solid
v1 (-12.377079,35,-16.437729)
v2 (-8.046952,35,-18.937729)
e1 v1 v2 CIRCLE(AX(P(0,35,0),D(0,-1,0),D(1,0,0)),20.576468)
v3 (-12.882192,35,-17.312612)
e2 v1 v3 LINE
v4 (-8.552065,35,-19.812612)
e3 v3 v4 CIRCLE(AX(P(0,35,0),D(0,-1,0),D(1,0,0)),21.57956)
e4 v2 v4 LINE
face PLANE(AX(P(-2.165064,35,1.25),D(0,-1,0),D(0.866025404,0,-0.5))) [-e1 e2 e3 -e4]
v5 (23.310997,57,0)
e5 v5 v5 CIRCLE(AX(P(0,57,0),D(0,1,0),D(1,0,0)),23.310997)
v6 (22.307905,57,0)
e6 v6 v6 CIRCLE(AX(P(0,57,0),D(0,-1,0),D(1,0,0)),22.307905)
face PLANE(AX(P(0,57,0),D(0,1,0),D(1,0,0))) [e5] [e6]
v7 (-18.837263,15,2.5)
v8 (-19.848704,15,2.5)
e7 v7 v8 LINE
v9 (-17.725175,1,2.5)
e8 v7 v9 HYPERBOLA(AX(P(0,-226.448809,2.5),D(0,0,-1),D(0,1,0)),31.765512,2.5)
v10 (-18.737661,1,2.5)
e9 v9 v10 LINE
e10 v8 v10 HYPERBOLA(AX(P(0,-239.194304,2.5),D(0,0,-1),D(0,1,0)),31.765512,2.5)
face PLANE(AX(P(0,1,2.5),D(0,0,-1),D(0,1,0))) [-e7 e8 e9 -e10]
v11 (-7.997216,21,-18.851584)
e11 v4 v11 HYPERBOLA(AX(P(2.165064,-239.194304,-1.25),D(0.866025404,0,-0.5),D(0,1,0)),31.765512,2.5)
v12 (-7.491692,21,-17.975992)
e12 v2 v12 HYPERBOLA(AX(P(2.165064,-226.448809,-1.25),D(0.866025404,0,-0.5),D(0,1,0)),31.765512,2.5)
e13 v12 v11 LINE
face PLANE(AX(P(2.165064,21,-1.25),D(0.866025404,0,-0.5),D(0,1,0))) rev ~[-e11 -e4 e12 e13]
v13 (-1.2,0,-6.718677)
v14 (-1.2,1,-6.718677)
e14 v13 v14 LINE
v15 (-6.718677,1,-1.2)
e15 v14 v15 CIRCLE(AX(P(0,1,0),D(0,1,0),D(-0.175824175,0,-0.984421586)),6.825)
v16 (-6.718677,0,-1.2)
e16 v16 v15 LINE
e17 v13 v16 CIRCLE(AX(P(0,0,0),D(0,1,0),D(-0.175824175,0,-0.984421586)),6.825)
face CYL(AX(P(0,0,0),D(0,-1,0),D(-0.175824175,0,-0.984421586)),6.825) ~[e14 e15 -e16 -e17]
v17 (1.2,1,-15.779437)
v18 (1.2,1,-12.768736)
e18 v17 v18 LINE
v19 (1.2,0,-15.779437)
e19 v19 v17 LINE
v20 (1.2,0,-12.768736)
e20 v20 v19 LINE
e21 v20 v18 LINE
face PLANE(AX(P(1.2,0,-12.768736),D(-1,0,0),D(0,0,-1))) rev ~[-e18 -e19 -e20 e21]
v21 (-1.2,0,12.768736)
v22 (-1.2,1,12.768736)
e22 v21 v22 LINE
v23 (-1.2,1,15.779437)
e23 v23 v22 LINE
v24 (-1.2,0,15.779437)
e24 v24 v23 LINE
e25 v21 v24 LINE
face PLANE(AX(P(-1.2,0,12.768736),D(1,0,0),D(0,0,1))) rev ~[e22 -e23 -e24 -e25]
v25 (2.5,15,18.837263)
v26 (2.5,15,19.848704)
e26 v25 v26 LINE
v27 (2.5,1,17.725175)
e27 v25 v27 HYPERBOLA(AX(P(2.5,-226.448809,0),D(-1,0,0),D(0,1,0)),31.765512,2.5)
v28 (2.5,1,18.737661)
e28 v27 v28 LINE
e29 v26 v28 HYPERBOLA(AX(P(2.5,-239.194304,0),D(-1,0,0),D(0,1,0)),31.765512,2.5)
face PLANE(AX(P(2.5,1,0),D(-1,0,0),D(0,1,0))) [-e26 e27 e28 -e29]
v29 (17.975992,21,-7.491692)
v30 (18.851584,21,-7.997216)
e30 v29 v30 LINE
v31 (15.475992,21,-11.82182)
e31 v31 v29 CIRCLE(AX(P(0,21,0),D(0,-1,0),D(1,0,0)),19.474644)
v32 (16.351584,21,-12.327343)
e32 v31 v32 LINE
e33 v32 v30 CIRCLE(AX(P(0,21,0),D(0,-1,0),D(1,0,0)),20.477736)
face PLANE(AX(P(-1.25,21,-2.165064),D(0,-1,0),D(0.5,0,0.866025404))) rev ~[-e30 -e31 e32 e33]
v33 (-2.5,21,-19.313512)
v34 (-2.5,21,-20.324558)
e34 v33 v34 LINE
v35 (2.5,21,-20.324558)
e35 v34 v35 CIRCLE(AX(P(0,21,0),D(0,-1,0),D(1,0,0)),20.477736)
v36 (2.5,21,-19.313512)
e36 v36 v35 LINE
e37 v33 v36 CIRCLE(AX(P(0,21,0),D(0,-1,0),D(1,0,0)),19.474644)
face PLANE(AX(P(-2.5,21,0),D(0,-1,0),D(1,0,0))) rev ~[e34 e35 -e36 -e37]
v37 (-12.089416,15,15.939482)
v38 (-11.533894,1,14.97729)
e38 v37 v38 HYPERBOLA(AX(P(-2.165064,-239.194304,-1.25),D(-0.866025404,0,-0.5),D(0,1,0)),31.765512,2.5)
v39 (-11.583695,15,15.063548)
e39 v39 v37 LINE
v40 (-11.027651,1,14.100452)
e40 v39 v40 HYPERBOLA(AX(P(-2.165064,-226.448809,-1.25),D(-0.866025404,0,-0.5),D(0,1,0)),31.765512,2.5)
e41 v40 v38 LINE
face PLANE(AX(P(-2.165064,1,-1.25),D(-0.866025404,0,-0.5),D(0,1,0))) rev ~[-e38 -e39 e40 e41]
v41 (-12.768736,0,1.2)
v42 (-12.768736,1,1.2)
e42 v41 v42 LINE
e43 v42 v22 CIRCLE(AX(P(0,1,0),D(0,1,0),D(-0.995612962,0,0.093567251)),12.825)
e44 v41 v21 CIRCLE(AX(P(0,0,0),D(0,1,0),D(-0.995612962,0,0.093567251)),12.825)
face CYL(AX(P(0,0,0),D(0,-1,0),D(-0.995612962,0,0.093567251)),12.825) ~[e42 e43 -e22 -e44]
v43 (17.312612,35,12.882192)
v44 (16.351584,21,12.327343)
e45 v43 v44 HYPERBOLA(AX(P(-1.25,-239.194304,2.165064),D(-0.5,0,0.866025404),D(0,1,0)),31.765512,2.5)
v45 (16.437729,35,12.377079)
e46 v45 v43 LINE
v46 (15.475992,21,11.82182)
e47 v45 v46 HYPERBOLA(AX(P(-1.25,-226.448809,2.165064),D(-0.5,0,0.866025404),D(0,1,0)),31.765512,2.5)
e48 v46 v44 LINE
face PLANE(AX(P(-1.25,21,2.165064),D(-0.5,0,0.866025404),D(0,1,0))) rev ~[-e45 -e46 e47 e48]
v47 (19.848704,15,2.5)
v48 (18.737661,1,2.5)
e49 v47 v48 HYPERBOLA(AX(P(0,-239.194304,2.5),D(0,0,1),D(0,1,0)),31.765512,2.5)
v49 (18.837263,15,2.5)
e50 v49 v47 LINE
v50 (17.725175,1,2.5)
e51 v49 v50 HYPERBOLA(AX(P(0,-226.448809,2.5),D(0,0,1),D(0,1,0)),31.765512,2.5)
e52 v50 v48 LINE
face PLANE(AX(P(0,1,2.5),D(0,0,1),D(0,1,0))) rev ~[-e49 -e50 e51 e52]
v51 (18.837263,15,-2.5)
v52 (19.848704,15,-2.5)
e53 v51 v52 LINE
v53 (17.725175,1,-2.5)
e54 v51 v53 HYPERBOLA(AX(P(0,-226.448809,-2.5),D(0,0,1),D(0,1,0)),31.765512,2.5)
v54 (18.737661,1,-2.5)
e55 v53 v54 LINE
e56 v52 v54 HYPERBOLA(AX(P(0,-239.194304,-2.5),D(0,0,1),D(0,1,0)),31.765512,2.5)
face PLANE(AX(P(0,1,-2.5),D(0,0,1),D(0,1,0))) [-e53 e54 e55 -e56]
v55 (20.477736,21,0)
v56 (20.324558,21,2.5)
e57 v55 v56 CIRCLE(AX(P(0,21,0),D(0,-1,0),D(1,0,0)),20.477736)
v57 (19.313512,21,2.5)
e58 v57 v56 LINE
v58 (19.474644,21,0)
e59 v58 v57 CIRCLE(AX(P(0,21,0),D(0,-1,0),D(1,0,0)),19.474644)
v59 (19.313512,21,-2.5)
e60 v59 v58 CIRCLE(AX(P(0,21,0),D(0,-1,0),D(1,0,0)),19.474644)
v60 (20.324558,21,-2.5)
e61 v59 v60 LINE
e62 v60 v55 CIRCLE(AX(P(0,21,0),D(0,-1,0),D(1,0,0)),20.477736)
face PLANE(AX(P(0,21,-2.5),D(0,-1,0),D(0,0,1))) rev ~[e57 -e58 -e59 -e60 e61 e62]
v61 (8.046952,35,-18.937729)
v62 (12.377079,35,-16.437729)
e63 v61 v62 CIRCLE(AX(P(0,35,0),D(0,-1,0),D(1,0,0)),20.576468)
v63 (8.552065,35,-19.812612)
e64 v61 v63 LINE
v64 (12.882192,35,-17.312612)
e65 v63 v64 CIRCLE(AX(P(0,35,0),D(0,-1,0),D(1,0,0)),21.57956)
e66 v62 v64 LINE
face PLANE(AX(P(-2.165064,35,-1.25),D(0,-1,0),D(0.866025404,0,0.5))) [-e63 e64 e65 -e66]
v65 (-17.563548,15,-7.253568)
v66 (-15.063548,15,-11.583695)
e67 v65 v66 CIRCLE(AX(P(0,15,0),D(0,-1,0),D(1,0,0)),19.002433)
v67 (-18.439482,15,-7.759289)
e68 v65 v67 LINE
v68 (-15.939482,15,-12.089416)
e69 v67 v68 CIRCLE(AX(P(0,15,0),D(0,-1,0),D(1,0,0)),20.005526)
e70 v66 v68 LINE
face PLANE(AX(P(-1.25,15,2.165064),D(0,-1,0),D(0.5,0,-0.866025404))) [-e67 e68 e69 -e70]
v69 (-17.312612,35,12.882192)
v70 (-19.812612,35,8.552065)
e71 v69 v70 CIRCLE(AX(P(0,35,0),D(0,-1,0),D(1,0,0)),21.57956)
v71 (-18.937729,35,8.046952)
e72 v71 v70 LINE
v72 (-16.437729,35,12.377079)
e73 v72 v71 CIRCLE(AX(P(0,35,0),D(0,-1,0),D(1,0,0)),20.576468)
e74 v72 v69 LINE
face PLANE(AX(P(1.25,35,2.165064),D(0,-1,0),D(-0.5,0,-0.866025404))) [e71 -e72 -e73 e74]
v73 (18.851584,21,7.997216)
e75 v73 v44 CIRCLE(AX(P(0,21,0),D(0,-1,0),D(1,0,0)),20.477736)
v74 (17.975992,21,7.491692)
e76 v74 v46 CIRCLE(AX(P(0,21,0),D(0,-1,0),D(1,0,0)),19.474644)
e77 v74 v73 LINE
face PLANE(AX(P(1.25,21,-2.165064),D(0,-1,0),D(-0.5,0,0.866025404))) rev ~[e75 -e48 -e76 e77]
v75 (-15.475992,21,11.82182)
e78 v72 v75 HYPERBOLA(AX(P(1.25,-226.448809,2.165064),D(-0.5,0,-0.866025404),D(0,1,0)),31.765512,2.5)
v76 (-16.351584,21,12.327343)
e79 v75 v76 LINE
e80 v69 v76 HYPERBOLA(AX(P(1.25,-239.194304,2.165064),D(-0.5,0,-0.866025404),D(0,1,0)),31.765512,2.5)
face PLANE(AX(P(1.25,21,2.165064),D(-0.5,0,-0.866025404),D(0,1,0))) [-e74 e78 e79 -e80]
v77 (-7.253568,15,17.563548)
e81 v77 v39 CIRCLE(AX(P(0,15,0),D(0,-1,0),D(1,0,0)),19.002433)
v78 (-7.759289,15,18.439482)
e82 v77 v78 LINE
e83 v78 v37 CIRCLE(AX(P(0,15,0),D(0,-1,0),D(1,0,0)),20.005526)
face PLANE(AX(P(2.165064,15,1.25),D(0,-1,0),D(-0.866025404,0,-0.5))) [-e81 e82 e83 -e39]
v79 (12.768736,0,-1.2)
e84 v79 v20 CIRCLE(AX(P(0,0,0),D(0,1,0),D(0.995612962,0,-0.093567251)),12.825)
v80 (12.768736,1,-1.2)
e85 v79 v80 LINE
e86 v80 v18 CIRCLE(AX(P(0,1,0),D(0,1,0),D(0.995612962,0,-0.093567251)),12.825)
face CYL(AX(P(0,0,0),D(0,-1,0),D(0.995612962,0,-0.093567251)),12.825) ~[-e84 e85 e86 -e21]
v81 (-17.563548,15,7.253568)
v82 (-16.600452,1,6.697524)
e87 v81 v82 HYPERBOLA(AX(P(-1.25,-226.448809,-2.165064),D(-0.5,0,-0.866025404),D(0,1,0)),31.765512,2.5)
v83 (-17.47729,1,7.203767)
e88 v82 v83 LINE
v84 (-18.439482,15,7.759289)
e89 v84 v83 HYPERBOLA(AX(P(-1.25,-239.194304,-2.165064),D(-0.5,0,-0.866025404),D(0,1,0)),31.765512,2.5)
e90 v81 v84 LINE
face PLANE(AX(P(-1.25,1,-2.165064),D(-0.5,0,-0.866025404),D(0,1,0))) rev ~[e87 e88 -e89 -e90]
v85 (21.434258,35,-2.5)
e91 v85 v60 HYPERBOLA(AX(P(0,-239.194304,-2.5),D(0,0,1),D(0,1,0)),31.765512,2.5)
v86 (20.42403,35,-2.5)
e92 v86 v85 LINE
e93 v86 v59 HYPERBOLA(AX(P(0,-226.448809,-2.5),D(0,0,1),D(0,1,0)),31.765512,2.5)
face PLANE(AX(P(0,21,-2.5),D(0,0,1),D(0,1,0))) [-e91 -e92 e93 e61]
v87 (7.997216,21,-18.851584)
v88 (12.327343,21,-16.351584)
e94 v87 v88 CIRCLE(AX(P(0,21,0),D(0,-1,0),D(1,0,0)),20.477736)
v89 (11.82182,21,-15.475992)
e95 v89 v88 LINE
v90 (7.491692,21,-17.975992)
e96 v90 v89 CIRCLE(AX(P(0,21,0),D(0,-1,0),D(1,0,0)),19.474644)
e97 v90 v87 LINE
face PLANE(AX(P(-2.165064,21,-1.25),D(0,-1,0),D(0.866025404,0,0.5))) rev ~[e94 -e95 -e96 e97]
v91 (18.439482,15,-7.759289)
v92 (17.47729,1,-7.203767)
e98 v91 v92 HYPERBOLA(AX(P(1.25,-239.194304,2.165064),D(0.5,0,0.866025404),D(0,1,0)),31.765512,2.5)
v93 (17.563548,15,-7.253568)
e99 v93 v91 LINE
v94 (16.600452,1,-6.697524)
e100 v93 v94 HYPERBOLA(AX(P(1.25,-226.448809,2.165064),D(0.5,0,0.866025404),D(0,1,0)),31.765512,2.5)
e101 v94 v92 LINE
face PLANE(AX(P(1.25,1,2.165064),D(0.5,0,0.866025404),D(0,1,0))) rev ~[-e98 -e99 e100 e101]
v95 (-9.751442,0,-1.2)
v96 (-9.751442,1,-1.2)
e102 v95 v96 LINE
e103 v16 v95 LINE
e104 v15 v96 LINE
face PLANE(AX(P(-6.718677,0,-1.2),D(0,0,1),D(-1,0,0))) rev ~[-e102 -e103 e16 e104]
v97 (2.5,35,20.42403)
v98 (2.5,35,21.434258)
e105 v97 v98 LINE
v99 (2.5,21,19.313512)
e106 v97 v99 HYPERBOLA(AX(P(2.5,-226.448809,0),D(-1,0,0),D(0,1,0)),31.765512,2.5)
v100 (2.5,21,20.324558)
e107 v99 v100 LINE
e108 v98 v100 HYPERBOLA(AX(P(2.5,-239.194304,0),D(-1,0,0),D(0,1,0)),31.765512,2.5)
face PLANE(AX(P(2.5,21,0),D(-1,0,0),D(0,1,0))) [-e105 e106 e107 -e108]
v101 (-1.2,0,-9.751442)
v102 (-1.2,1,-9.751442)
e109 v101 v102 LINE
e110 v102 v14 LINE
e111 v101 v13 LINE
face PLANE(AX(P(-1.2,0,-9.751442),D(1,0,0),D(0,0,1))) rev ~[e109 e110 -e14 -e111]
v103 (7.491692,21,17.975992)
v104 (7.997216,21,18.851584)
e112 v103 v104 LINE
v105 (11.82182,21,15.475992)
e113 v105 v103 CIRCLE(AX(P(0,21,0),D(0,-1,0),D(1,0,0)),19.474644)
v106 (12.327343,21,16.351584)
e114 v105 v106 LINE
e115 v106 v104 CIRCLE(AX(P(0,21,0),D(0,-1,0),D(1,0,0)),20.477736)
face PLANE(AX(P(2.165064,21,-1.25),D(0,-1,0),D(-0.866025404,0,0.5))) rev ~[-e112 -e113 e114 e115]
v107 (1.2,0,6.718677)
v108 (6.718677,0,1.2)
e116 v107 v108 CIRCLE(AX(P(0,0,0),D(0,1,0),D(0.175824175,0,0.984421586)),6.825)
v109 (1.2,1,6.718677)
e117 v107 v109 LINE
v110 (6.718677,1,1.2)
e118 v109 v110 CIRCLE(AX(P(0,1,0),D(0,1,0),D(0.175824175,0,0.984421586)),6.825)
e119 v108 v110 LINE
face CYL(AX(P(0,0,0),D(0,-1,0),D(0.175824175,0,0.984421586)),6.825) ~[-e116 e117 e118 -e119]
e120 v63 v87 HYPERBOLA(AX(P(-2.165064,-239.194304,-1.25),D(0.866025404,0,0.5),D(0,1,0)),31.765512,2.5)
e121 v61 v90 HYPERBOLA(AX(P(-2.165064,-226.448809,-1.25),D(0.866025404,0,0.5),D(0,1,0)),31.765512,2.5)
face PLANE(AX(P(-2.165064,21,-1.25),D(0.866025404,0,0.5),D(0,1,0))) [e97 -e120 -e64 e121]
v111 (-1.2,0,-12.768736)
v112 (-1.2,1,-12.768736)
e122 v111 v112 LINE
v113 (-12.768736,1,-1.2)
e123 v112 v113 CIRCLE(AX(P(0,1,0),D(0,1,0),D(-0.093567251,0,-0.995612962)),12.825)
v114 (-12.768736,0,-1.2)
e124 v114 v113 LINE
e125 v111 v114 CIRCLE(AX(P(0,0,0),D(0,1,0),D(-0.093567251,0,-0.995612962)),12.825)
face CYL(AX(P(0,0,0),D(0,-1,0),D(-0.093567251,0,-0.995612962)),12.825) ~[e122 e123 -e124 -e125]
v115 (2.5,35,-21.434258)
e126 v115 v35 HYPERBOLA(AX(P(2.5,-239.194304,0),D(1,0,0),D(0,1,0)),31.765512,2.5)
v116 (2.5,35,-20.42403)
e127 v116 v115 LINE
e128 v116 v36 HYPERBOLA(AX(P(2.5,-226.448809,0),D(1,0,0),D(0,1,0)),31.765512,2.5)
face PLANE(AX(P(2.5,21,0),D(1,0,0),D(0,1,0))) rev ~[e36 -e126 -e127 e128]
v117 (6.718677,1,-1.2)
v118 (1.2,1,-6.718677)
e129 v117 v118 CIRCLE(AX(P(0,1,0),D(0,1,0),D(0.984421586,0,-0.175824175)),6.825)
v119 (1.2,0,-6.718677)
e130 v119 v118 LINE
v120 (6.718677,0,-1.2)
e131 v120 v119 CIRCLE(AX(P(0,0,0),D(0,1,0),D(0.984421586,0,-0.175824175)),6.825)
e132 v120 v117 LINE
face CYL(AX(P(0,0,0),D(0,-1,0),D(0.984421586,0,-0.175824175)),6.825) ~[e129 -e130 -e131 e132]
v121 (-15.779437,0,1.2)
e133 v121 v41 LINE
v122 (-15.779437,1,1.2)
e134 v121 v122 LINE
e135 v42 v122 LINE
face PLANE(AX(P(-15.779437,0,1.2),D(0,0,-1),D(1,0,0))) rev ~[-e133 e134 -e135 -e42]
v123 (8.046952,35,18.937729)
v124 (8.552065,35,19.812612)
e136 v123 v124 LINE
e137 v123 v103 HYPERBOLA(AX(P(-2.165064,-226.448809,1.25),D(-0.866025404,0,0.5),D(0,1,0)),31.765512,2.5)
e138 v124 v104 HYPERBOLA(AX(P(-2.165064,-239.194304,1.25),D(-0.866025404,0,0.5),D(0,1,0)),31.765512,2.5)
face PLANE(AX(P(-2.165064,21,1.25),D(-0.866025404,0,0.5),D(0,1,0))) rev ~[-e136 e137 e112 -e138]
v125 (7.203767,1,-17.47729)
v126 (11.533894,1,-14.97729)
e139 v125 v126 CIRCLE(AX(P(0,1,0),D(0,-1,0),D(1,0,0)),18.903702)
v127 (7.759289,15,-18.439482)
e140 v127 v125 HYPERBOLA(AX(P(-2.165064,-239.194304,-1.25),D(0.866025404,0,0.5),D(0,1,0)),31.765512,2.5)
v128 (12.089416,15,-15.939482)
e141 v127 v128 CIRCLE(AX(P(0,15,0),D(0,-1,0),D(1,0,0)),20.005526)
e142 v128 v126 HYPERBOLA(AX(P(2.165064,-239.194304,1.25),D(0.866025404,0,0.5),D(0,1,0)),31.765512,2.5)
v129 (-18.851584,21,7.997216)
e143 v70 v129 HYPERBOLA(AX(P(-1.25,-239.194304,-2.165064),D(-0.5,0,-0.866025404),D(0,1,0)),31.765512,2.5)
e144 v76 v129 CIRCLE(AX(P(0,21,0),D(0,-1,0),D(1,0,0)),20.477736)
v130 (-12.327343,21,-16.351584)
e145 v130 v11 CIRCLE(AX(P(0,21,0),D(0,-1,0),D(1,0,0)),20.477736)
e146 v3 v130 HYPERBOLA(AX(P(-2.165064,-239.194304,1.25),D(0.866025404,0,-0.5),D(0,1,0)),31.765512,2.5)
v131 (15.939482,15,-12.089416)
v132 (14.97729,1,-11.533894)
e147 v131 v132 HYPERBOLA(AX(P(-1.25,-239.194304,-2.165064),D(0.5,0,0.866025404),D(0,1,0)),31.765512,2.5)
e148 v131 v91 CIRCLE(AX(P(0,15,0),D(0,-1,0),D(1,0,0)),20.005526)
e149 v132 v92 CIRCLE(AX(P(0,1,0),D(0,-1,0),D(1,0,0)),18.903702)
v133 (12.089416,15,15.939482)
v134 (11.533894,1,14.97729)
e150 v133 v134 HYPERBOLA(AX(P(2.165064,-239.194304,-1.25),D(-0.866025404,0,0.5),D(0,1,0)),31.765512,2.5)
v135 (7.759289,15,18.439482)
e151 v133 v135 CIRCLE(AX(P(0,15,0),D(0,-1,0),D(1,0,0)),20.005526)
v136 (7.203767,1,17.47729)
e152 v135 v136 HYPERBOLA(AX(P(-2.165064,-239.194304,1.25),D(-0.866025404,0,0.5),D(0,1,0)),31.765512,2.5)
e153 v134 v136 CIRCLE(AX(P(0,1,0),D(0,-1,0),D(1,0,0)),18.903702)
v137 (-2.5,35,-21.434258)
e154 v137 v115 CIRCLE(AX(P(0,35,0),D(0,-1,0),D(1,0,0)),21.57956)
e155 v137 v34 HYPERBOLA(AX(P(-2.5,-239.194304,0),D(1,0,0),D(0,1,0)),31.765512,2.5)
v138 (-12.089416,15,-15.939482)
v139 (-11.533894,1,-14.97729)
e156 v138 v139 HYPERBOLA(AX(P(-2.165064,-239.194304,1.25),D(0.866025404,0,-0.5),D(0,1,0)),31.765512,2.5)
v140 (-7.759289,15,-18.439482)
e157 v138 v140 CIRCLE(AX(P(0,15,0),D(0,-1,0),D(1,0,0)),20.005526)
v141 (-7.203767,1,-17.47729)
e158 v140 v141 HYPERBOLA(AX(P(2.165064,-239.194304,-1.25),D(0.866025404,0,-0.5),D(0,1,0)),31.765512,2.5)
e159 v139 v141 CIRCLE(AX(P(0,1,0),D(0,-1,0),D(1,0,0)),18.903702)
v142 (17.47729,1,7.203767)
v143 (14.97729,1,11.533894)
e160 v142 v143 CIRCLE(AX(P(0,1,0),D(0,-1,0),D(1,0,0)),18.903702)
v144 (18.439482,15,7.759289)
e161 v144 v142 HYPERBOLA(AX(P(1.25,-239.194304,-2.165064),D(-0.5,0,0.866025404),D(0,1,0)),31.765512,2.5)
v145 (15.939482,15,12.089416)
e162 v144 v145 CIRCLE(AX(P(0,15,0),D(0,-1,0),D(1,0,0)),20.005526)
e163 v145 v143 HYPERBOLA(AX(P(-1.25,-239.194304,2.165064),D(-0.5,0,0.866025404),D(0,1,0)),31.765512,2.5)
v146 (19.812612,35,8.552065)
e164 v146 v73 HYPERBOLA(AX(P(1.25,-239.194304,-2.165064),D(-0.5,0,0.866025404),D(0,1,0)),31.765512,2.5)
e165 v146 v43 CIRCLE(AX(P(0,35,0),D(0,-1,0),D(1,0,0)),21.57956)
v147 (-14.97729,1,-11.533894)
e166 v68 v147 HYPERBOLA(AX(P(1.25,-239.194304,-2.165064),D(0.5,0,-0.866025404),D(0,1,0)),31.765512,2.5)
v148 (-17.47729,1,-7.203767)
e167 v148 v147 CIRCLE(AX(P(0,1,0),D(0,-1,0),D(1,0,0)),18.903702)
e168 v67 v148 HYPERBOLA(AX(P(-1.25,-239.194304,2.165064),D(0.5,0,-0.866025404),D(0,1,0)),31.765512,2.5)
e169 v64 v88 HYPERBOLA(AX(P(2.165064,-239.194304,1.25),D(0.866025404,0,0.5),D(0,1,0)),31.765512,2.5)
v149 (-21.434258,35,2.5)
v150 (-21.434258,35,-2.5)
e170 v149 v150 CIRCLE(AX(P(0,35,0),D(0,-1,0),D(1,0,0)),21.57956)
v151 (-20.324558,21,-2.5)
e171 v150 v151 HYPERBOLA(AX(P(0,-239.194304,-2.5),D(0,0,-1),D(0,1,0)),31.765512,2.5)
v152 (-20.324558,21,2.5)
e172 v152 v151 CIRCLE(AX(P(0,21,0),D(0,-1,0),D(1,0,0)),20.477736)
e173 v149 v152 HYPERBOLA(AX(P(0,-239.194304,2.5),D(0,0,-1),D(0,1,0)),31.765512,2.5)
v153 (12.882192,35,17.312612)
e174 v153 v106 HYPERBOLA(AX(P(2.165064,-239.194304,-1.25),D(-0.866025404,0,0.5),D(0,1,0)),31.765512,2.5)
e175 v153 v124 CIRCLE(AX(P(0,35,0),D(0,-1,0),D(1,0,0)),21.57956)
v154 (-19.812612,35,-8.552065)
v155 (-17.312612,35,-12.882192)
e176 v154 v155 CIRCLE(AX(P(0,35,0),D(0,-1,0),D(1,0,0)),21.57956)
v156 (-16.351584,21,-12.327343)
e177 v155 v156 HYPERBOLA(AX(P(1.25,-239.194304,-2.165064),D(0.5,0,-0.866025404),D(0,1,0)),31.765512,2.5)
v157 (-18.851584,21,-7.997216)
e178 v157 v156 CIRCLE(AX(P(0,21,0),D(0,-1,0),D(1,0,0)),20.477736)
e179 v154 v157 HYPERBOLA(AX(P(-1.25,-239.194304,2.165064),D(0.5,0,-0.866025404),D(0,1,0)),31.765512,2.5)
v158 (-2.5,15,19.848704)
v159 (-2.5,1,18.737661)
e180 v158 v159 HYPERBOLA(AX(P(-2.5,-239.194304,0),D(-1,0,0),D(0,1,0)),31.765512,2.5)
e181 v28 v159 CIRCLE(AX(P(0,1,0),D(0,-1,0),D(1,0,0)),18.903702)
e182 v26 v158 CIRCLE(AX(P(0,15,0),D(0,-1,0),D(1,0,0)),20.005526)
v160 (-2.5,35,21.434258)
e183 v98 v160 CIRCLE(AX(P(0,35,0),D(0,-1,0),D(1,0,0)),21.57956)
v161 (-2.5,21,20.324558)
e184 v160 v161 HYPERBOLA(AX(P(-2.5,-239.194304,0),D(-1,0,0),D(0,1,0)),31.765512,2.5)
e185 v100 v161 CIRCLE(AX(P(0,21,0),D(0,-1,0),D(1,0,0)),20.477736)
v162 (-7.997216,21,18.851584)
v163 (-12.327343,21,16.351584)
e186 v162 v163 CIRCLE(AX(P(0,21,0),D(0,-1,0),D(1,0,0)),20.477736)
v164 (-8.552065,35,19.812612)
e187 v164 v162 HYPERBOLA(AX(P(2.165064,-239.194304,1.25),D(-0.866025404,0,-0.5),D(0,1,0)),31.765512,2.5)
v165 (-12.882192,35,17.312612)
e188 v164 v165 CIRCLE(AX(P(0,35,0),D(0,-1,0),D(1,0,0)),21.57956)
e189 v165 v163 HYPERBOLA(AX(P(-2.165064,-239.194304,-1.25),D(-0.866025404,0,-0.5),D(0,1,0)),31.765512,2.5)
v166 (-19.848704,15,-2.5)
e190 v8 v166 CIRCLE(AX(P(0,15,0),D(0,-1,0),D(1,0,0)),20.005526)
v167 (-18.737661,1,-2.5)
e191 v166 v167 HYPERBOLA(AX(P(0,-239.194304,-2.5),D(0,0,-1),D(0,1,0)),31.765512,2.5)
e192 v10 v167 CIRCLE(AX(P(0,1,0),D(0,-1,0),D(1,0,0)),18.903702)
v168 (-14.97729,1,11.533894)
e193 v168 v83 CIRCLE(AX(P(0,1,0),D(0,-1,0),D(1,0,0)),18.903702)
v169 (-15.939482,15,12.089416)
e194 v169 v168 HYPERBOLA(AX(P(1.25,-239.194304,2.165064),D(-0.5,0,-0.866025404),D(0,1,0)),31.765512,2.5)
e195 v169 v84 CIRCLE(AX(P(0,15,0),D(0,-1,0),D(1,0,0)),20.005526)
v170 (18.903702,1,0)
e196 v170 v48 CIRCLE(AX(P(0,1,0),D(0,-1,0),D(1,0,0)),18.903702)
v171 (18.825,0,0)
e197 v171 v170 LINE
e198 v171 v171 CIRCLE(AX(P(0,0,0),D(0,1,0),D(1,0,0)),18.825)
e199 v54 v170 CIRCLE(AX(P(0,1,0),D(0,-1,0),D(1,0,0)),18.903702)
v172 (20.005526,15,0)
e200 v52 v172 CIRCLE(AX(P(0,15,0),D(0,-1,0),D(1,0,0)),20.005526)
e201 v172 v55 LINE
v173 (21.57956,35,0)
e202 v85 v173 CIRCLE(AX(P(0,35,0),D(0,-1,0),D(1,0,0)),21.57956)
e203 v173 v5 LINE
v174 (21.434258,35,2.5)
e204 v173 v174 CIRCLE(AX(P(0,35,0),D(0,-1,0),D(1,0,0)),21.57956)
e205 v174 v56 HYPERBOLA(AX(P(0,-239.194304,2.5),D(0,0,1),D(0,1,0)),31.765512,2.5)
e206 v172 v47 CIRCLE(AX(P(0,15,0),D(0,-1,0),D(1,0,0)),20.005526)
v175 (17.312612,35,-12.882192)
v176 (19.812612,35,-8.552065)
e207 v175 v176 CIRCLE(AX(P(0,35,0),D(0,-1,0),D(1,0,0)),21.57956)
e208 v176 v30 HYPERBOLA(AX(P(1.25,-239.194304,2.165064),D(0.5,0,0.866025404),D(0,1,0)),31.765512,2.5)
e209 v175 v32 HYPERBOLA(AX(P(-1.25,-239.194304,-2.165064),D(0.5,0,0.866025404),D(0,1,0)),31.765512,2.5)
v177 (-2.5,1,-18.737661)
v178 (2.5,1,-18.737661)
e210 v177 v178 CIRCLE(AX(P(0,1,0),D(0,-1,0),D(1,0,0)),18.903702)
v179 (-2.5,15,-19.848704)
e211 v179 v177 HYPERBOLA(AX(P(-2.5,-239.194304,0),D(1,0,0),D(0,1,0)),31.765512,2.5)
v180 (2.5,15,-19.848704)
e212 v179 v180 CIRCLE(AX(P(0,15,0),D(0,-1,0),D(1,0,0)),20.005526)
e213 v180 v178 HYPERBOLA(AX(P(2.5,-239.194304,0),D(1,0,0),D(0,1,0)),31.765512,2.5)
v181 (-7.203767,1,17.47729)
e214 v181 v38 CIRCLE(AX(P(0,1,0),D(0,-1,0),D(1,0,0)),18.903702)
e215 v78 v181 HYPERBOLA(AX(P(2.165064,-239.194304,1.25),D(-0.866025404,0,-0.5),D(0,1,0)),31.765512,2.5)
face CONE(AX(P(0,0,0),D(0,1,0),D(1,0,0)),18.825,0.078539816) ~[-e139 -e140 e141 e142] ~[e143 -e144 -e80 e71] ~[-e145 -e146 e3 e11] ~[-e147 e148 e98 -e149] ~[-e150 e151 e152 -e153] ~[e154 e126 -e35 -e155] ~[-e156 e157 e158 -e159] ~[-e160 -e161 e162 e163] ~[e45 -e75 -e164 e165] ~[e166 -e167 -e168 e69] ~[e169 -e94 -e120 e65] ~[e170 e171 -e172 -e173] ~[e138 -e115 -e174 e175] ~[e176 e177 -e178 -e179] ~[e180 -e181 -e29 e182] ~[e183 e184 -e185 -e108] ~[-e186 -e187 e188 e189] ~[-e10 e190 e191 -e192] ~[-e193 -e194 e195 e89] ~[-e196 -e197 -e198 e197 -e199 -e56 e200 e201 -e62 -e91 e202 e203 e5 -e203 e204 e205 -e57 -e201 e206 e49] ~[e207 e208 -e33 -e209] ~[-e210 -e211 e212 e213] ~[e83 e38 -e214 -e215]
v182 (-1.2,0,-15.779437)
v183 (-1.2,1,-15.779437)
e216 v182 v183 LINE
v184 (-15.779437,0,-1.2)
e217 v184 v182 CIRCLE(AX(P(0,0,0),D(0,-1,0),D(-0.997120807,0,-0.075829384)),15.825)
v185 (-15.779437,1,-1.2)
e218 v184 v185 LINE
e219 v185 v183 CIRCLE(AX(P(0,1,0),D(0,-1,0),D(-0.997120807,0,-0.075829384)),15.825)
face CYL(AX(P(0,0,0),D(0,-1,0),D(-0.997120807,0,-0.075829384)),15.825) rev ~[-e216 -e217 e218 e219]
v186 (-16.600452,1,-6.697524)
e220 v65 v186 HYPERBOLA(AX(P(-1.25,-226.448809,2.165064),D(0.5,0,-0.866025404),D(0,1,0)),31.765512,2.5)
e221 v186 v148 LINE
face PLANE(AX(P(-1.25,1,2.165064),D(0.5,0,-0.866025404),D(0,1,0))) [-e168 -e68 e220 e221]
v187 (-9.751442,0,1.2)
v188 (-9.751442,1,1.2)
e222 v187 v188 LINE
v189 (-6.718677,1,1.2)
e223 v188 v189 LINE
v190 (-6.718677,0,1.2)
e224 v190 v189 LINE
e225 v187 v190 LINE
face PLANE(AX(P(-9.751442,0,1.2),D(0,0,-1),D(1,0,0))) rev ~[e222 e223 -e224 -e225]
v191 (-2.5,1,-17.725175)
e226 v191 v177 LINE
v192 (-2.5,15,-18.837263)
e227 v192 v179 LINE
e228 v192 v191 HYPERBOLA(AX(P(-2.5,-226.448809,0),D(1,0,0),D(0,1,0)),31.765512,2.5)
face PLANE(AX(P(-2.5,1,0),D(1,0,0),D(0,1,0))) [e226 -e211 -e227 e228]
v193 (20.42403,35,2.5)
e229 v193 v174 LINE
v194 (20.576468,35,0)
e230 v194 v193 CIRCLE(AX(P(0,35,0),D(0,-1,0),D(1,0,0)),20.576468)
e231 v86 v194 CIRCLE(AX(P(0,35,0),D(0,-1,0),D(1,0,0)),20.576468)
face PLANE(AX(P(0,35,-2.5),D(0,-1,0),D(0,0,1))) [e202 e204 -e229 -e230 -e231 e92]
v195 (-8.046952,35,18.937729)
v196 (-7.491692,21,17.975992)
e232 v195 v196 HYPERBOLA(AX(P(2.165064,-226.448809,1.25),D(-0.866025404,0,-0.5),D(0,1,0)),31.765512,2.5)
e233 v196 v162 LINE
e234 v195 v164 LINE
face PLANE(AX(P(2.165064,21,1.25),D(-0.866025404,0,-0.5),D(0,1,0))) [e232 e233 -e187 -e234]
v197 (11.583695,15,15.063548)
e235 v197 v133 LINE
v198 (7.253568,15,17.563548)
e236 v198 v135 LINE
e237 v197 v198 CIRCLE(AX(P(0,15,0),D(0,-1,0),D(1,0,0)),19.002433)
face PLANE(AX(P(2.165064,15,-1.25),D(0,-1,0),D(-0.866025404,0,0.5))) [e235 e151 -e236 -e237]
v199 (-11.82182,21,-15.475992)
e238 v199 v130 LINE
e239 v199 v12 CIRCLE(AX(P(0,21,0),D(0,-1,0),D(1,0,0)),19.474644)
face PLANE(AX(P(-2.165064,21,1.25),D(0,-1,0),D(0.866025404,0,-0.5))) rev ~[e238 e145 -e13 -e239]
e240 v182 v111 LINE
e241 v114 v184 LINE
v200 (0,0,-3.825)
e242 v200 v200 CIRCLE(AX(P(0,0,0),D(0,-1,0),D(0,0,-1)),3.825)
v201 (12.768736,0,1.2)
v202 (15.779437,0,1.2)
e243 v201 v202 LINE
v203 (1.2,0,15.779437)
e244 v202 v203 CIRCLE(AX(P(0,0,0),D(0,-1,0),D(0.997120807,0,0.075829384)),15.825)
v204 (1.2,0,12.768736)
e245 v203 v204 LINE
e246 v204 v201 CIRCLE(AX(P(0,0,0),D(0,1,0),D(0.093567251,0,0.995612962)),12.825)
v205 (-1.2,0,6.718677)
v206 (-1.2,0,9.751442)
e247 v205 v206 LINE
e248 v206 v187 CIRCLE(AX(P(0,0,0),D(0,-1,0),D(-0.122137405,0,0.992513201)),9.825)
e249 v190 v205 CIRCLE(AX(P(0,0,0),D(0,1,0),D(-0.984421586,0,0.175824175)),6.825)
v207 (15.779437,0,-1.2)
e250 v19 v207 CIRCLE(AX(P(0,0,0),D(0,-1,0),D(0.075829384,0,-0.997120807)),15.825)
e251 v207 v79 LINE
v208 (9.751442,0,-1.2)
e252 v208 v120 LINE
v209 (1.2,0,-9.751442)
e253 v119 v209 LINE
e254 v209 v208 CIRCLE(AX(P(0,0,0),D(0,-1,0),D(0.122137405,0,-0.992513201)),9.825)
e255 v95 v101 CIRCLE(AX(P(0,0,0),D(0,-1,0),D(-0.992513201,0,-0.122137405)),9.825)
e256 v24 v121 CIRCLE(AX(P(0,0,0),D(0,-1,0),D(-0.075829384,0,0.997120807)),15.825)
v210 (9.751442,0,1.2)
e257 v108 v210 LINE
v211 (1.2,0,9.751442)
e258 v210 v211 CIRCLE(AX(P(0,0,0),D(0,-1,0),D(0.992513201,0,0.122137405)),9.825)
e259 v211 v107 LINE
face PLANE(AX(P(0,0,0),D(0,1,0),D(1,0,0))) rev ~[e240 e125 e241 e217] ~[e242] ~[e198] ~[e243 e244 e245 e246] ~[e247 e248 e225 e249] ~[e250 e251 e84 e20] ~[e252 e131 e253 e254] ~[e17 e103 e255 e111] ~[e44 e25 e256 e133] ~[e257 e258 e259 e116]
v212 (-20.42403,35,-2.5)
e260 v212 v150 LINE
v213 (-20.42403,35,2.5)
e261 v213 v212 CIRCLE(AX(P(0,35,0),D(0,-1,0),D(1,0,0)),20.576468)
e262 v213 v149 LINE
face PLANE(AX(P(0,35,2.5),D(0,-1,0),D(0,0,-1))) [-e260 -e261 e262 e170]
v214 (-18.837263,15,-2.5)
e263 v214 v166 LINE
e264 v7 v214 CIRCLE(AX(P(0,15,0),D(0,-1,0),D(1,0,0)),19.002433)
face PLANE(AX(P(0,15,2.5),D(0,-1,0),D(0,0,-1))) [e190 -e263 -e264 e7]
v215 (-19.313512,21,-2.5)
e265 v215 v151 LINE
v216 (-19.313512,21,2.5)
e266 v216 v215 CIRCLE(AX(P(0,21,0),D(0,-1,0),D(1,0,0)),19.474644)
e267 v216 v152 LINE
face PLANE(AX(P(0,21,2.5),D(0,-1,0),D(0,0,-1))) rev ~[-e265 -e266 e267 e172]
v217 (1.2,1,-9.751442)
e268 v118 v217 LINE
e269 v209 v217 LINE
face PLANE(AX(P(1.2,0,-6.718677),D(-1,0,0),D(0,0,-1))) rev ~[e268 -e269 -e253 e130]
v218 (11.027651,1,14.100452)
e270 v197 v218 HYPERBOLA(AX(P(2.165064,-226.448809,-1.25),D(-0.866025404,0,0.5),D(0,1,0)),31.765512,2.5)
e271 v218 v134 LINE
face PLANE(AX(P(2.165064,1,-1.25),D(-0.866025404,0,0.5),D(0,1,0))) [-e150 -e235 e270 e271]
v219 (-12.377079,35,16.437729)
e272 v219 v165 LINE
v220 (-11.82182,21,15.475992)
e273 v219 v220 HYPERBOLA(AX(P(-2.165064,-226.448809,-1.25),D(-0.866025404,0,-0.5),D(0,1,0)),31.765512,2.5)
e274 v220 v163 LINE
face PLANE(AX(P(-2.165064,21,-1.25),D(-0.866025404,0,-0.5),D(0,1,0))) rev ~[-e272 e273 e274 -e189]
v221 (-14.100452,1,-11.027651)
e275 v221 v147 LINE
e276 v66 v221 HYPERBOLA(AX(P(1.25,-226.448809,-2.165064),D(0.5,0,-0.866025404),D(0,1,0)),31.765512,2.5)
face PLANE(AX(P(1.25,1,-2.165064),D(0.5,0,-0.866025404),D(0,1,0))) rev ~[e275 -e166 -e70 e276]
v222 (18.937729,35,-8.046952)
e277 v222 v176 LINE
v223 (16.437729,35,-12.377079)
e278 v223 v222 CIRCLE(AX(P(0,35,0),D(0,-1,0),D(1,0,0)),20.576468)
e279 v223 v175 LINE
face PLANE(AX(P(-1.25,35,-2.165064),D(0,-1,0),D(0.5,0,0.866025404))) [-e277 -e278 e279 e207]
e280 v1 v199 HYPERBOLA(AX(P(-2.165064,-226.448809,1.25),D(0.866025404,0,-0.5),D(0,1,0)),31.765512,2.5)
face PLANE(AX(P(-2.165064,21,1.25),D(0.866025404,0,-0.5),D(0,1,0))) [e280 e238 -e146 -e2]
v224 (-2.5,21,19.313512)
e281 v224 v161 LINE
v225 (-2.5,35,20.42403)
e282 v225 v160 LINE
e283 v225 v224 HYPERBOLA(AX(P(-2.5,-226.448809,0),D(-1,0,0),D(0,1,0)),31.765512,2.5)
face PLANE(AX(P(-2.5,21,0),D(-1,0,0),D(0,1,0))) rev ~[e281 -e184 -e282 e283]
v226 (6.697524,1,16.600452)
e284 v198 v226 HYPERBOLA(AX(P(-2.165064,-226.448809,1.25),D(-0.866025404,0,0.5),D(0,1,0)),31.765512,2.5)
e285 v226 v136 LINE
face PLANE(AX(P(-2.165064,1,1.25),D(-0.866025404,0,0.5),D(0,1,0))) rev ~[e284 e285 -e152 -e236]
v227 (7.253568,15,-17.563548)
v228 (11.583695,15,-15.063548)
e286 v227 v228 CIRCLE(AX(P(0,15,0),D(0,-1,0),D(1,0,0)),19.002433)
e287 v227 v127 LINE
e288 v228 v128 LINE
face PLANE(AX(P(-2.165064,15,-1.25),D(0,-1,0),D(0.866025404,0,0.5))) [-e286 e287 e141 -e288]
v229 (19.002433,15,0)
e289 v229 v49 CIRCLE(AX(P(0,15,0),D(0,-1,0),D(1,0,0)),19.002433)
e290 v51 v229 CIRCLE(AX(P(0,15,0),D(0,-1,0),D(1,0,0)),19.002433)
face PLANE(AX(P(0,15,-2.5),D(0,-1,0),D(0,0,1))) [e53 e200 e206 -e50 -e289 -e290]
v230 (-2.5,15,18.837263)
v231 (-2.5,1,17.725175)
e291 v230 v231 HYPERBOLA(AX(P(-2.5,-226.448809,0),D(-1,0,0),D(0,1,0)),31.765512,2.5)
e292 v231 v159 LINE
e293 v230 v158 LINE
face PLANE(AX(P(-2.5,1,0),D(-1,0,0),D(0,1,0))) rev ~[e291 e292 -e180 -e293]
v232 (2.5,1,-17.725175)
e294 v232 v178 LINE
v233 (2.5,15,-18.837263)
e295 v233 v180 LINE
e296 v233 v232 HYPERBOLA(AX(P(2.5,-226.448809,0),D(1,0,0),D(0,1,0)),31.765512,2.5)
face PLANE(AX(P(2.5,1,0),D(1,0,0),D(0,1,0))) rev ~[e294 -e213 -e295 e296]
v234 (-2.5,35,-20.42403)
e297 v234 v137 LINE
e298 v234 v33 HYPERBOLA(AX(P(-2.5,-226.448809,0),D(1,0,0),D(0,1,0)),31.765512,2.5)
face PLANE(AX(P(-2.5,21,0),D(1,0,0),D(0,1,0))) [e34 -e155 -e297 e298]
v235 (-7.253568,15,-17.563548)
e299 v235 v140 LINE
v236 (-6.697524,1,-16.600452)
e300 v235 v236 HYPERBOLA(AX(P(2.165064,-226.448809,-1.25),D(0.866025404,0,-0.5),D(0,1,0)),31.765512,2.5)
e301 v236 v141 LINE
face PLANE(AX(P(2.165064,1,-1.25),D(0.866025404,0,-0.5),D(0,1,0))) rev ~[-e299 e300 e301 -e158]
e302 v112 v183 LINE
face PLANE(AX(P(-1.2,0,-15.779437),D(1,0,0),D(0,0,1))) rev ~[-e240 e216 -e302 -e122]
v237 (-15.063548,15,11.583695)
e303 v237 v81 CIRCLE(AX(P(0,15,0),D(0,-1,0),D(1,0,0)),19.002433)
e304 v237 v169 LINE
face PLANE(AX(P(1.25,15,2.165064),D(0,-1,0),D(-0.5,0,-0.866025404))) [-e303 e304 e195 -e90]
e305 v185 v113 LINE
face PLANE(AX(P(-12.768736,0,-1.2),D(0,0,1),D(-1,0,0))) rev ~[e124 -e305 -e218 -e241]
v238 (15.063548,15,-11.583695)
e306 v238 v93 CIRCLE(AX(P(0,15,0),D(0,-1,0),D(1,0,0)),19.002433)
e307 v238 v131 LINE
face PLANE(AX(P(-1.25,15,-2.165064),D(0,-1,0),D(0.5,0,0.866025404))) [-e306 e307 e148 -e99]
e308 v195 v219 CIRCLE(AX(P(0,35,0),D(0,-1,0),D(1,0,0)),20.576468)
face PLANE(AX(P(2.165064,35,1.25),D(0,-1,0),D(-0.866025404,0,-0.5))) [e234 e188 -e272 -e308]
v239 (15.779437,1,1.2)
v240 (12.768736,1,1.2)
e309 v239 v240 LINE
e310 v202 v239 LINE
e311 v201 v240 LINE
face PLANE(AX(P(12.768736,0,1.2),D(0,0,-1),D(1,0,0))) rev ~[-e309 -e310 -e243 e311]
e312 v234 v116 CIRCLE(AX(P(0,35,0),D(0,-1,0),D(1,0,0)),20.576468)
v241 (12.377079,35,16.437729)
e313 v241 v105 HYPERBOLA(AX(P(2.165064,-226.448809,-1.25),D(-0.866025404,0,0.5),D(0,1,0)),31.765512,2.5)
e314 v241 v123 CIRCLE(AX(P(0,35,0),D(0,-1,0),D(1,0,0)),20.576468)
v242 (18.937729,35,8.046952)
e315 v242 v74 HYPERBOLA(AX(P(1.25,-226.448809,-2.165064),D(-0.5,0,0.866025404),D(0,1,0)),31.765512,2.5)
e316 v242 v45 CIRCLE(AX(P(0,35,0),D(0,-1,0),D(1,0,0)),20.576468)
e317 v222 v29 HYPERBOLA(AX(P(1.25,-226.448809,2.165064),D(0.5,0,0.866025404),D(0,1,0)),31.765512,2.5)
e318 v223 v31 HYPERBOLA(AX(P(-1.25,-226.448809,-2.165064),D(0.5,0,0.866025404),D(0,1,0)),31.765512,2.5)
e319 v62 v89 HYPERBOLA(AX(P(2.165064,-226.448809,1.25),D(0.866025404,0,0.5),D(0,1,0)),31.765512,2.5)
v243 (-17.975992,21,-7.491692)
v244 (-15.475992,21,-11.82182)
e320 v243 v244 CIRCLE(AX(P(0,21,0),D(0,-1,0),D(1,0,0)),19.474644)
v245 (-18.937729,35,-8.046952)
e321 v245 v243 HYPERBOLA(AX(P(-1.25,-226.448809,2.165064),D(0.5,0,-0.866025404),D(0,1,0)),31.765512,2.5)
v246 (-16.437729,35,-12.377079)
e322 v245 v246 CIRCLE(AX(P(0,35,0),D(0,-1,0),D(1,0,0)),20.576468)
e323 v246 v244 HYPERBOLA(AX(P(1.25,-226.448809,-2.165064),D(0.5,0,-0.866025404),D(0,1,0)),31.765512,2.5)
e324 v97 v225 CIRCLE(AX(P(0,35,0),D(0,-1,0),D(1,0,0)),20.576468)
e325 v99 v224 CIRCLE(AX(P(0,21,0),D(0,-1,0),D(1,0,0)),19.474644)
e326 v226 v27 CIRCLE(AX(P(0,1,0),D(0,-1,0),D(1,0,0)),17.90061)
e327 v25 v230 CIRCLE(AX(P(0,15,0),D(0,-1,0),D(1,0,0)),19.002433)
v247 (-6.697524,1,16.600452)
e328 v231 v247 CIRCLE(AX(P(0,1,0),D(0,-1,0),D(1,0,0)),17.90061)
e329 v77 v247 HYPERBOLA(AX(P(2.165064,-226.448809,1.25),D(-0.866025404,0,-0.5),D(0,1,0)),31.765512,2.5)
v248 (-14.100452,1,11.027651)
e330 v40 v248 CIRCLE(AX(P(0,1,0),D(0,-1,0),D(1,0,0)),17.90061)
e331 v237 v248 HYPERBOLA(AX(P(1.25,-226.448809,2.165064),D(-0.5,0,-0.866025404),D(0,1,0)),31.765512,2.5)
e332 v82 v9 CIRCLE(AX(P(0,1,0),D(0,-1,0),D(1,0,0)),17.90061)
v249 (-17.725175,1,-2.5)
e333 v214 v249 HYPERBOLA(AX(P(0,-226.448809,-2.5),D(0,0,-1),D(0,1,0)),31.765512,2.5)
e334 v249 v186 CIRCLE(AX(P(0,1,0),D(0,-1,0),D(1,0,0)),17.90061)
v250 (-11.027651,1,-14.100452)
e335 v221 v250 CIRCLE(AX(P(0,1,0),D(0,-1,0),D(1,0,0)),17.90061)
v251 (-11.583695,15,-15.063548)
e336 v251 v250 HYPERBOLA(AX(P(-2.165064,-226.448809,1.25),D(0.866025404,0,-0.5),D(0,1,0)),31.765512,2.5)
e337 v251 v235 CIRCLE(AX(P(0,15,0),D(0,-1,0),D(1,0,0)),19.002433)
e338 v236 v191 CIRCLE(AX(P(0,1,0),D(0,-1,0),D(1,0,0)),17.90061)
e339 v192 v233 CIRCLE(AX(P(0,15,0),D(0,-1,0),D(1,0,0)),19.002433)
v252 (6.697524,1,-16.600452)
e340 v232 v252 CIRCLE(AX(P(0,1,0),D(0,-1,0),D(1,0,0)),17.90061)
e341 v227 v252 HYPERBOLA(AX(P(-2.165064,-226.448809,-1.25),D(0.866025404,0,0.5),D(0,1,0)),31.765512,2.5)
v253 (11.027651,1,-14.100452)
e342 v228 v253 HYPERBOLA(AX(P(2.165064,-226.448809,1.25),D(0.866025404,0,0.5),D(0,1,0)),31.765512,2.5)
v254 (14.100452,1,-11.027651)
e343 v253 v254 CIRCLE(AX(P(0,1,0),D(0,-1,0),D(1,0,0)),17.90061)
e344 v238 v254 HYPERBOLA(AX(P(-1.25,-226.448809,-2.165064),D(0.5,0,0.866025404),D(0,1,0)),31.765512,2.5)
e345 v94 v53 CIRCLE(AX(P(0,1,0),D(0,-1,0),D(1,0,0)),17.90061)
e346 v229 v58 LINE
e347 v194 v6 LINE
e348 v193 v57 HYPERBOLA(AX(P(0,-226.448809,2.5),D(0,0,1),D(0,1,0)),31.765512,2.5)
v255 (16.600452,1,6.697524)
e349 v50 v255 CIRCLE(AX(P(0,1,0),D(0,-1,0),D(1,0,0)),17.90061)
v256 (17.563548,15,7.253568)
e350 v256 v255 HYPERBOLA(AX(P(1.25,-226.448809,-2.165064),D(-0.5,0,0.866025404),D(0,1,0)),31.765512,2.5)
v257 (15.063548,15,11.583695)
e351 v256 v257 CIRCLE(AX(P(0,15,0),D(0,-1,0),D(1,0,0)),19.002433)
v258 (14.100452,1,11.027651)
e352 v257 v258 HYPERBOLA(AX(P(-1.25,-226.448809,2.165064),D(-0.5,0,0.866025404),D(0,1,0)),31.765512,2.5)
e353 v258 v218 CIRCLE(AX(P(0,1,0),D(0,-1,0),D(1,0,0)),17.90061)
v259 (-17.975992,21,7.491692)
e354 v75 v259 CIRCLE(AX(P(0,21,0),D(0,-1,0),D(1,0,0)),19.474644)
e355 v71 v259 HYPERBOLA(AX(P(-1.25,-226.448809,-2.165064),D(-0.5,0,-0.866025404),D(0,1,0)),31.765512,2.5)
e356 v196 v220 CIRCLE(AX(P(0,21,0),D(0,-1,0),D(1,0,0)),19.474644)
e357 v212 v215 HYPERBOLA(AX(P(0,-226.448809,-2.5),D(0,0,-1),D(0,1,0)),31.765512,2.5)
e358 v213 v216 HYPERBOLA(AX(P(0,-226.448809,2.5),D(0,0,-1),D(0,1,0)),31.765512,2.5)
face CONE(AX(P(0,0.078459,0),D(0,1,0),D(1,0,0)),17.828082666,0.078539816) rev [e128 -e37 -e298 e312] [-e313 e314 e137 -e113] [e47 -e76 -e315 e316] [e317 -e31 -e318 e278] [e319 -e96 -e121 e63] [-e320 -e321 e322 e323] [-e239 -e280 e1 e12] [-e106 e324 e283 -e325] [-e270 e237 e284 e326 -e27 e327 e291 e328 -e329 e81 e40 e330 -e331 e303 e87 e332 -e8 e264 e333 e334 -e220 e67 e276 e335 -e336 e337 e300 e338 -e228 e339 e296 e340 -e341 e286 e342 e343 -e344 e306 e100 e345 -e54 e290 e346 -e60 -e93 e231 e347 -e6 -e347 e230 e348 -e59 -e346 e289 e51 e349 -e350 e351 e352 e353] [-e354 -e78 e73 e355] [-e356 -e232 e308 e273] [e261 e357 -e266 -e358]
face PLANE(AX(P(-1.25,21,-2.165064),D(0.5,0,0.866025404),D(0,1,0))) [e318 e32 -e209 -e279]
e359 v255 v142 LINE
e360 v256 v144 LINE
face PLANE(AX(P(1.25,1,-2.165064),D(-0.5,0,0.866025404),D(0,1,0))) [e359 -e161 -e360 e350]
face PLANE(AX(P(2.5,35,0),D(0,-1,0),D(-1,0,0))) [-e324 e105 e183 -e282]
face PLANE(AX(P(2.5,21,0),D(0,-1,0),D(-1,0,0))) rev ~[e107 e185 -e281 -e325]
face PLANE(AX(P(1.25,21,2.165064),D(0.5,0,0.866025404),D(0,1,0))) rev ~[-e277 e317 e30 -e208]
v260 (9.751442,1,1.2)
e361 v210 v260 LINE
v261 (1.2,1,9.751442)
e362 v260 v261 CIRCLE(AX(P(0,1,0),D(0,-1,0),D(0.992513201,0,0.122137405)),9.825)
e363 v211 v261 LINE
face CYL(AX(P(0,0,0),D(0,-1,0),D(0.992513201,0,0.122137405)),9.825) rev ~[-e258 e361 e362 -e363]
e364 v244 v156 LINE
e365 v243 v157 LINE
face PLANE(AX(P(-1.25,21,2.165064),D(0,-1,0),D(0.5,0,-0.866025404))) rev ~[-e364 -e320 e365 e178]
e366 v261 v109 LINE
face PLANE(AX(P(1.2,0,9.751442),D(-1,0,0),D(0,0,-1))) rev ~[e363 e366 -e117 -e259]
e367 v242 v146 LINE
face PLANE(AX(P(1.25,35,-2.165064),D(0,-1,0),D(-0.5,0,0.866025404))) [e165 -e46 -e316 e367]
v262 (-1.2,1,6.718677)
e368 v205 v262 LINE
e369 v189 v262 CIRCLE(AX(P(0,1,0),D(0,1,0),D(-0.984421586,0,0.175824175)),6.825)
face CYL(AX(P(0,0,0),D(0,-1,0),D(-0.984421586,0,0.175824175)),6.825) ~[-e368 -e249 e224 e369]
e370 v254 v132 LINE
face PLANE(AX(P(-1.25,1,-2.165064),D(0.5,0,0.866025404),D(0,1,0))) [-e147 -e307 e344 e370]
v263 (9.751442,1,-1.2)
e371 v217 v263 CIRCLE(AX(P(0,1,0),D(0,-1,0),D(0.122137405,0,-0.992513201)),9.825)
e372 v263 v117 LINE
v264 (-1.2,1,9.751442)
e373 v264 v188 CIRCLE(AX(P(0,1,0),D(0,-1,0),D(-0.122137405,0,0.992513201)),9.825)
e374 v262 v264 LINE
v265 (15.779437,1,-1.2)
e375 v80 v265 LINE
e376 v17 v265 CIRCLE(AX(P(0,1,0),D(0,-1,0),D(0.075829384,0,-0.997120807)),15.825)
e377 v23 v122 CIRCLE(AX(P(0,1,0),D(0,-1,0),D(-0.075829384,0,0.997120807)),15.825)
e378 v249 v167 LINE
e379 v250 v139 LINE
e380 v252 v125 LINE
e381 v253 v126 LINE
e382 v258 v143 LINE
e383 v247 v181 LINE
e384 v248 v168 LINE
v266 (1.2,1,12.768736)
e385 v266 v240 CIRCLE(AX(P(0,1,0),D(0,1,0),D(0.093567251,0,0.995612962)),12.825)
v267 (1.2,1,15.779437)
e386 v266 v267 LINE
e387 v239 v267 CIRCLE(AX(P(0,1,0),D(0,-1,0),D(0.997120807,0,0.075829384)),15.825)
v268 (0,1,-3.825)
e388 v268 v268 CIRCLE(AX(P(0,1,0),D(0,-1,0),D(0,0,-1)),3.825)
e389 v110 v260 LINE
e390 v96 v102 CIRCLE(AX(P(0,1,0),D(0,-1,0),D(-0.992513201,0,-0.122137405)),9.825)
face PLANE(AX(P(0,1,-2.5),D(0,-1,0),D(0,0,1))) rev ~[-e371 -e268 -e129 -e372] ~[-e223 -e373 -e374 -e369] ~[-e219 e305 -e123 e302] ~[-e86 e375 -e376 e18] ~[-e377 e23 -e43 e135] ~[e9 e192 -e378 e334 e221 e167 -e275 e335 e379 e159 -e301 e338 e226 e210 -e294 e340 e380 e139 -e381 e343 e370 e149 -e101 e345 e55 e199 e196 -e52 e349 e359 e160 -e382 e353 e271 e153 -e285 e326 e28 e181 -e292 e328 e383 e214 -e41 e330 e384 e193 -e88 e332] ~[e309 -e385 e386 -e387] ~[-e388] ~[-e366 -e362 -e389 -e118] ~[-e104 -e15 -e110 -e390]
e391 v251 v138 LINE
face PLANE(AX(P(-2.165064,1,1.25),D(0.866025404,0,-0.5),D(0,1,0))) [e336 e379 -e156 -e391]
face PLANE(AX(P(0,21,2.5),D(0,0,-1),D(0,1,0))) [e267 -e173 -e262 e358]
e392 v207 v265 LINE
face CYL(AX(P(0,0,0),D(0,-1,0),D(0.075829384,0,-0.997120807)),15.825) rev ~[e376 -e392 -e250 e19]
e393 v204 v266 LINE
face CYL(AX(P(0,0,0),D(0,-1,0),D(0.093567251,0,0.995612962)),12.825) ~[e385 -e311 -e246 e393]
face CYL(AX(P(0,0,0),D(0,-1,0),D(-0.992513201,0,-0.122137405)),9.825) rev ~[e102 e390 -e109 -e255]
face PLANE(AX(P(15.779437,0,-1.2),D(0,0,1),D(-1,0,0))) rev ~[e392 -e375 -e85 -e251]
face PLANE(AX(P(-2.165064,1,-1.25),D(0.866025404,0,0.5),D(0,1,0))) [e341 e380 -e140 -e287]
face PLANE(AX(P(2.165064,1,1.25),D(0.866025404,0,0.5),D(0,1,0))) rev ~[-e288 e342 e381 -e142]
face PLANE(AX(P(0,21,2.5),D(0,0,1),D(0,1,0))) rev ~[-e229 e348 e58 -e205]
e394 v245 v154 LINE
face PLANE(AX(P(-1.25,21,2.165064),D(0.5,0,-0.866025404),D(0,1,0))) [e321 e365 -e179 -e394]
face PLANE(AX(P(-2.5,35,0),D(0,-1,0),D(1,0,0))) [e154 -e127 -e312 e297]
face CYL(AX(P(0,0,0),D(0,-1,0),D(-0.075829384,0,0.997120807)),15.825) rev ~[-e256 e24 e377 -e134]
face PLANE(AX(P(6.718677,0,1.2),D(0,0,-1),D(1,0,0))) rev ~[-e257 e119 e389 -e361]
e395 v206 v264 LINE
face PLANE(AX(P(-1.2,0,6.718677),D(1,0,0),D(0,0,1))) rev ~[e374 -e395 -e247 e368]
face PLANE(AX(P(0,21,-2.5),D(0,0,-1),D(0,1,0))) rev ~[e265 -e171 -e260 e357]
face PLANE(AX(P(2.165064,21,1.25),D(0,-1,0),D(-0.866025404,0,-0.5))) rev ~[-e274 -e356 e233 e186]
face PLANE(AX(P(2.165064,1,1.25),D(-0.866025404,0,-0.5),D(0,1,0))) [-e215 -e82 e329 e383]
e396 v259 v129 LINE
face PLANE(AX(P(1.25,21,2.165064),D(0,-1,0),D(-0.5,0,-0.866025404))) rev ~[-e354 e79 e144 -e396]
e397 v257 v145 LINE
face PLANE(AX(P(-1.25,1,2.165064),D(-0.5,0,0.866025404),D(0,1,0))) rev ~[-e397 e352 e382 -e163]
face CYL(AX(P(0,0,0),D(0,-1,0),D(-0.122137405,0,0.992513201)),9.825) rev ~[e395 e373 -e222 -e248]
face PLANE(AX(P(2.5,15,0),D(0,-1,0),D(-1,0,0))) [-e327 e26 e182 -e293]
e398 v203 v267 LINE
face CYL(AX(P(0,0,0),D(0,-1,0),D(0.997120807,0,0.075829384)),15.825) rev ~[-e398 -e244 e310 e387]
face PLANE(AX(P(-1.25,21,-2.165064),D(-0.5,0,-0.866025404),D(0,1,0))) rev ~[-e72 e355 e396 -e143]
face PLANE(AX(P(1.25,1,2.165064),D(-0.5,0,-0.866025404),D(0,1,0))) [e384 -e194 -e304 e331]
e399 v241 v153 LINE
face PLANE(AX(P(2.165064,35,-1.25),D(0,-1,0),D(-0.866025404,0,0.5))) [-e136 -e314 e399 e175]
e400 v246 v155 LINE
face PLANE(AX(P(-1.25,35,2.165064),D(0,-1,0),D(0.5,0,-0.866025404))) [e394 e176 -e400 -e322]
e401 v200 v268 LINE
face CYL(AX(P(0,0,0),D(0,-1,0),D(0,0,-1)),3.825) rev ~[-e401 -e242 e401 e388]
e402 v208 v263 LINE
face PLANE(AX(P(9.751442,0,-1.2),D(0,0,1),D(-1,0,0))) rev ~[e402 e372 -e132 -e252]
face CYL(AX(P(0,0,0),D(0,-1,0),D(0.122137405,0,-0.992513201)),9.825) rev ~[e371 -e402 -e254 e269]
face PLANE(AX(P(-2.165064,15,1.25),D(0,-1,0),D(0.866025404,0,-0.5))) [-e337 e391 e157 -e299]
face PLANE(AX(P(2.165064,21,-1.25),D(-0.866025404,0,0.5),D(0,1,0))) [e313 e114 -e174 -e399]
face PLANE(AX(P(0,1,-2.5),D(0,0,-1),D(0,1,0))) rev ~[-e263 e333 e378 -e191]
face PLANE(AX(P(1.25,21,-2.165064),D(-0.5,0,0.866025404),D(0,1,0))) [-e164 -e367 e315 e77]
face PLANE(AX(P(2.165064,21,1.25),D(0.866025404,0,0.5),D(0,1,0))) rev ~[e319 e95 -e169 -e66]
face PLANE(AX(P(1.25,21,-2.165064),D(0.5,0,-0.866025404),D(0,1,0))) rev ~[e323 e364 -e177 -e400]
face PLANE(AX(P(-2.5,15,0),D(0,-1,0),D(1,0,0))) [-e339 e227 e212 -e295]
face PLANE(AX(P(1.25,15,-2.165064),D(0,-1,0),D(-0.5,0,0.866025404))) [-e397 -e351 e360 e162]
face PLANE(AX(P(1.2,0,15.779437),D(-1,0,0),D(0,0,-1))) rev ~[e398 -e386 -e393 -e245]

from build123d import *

# Parameters (mm, degrees)
SKETCH1_R           = 18.825
BOSS_EXTRUDE1_DEPTH = 57
BOSS_EXTRUDE1_DRAFT = -4.5
SHELL1_T            = -1
SKETCH4_R           = 3.825
CUT_EXTRUDE1_DEPTH  = 57
SKETCH5_W           = 5
SKETCH5_H           = 14
CUT_EXTRUDE2_DEPTH  = 66.846831277
CIRPATTERN1_COUNT   = 12


with BuildPart() as part:
    # Sketch1 → Boss-Extrude1 (with draft: the straight prism first)
    with BuildSketch(Plane(origin=(0, 0, 0), x_dir=(1, 0, 0), z_dir=(0, 1, 0))):
        Circle(SKETCH1_R)
    extrude(amount=BOSS_EXTRUDE1_DEPTH)
    # Boss-Extrude1: the draft: its side faces are tilted about the plane it starts from
    boss_extrude1_sides = [part.faces().sort_by_distance(p)[0] for p in [
        (-18.825, 28.5, 0),
    ]]
    draft(boss_extrude1_sides, Plane(origin=(0, 0, 0), x_dir=(1, 0, 0), z_dir=(0, 1, 0)), BOSS_EXTRUDE1_DRAFT)

    # Shell1
    shell1_openings = [part.faces().sort_by_distance(p)[0] for p in [
        (0, 57, 0),
    ]]
    offset(amount=SHELL1_T, openings=shell1_openings, kind=Kind.INTERSECTION)

    # Sketch4 → Cut-Extrude1 (cut)
    with BuildSketch(Plane.XZ):
        Circle(SKETCH4_R)
        with BuildLine():
            Line((9.751442201, -1.2), (6.718677325, -1.2))
            ThreePointArc((6.718677325, -1.2), (4.826003782, -4.826003782), (1.2, -6.718677325))
            Line((1.2, -6.718677325), (1.2, -9.751442201))
            ThreePointArc((1.2, -9.751442201), (6.947324125, -6.947324125), (9.751442201, -1.2))
        make_face()
        with BuildLine():
            Line((15.779436777, -1.2), (12.768736233, -1.2))
            ThreePointArc((12.768736233, -1.2), (9.068644469, -9.068644469), (1.2, -12.768736233))
            Line((1.2, -12.768736233), (1.2, -15.779436777))
            ThreePointArc((1.2, -15.779436777), (11.189964812, -11.189964812), (15.779436777, -1.2))
        make_face()
        with BuildLine():
            Line((-1.2, -9.751442201), (-1.2, -6.718677325))
            ThreePointArc((-1.2, -6.718677325), (-4.826003782, -4.826003782), (-6.718677325, -1.2))
            Line((-6.718677325, -1.2), (-9.751442201, -1.2))
            ThreePointArc((-9.751442201, -1.2), (-6.947324125, -6.947324125), (-1.2, -9.751442201))
        make_face()
        with BuildLine():
            ThreePointArc((1.2, 6.718677325), (4.826003782, 4.826003782), (6.718677325, 1.2))
            Line((6.718677325, 1.2), (9.751442201, 1.2))
            ThreePointArc((9.751442201, 1.2), (6.947324125, 6.947324125), (1.2, 9.751442201))
            Line((1.2, 9.751442201), (1.2, 6.718677325))
        make_face()
        with BuildLine():
            Line((-1.2, -15.779436777), (-1.2, -12.768736233))
            ThreePointArc((-1.2, -12.768736233), (-9.068644469, -9.068644469), (-12.768736233, -1.2))
            Line((-12.768736233, -1.2), (-15.779436777, -1.2))
            ThreePointArc((-15.779436777, -1.2), (-11.189964812, -11.189964812), (-1.2, -15.779436777))
        make_face()
        with BuildLine():
            ThreePointArc((1.2, 12.768736233), (9.068644469, 9.068644469), (12.768736233, 1.2))
            Line((12.768736233, 1.2), (15.779436777, 1.2))
            ThreePointArc((15.779436777, 1.2), (11.189964812, 11.189964812), (1.2, 15.779436777))
            Line((1.2, 15.779436777), (1.2, 12.768736233))
        make_face()
        with BuildLine():
            Line((-9.751442201, 1.2), (-6.718677325, 1.2))
            ThreePointArc((-6.718677325, 1.2), (-4.826003782, 4.826003782), (-1.2, 6.718677325))
            Line((-1.2, 6.718677325), (-1.2, 9.751442201))
            ThreePointArc((-1.2, 9.751442201), (-6.947324125, 6.947324125), (-9.751442201, 1.2))
        make_face()
        with BuildLine():
            Line((-15.779436777, 1.2), (-12.768736233, 1.2))
            ThreePointArc((-12.768736233, 1.2), (-9.068644469, 9.068644469), (-1.2, 12.768736233))
            Line((-1.2, 12.768736233), (-1.2, 15.779436777))
            ThreePointArc((-1.2, 15.779436777), (-11.189964812, 11.189964812), (-15.779436777, 1.2))
        make_face()
    extrude(amount=-CUT_EXTRUDE1_DEPTH, mode=Mode.SUBTRACT)

    # Sketch5 → Cut-Extrude2 (cut, through all)
    with BuildSketch(Plane.XY):
        with Locations((0, 8)):
            Rectangle(SKETCH5_W, SKETCH5_H)
        with Locations((0, 28)):
            Rectangle(SKETCH5_W, SKETCH5_H)
    cut_extrude2 = extrude(amount=-CUT_EXTRUDE2_DEPTH, mode=Mode.SUBTRACT)

    # CirPattern1: Cut-Extrude2 ×12 about axis
    cirpattern1_axis = Axis((0, 0, 0), (0, -1, 0))
    for i in range(1, CIRPATTERN1_COUNT):
        add(cut_extrude2.rotate(cirpattern1_axis, i * 360 / CIRPATTERN1_COUNT), mode=Mode.SUBTRACT)


solid = part.part
